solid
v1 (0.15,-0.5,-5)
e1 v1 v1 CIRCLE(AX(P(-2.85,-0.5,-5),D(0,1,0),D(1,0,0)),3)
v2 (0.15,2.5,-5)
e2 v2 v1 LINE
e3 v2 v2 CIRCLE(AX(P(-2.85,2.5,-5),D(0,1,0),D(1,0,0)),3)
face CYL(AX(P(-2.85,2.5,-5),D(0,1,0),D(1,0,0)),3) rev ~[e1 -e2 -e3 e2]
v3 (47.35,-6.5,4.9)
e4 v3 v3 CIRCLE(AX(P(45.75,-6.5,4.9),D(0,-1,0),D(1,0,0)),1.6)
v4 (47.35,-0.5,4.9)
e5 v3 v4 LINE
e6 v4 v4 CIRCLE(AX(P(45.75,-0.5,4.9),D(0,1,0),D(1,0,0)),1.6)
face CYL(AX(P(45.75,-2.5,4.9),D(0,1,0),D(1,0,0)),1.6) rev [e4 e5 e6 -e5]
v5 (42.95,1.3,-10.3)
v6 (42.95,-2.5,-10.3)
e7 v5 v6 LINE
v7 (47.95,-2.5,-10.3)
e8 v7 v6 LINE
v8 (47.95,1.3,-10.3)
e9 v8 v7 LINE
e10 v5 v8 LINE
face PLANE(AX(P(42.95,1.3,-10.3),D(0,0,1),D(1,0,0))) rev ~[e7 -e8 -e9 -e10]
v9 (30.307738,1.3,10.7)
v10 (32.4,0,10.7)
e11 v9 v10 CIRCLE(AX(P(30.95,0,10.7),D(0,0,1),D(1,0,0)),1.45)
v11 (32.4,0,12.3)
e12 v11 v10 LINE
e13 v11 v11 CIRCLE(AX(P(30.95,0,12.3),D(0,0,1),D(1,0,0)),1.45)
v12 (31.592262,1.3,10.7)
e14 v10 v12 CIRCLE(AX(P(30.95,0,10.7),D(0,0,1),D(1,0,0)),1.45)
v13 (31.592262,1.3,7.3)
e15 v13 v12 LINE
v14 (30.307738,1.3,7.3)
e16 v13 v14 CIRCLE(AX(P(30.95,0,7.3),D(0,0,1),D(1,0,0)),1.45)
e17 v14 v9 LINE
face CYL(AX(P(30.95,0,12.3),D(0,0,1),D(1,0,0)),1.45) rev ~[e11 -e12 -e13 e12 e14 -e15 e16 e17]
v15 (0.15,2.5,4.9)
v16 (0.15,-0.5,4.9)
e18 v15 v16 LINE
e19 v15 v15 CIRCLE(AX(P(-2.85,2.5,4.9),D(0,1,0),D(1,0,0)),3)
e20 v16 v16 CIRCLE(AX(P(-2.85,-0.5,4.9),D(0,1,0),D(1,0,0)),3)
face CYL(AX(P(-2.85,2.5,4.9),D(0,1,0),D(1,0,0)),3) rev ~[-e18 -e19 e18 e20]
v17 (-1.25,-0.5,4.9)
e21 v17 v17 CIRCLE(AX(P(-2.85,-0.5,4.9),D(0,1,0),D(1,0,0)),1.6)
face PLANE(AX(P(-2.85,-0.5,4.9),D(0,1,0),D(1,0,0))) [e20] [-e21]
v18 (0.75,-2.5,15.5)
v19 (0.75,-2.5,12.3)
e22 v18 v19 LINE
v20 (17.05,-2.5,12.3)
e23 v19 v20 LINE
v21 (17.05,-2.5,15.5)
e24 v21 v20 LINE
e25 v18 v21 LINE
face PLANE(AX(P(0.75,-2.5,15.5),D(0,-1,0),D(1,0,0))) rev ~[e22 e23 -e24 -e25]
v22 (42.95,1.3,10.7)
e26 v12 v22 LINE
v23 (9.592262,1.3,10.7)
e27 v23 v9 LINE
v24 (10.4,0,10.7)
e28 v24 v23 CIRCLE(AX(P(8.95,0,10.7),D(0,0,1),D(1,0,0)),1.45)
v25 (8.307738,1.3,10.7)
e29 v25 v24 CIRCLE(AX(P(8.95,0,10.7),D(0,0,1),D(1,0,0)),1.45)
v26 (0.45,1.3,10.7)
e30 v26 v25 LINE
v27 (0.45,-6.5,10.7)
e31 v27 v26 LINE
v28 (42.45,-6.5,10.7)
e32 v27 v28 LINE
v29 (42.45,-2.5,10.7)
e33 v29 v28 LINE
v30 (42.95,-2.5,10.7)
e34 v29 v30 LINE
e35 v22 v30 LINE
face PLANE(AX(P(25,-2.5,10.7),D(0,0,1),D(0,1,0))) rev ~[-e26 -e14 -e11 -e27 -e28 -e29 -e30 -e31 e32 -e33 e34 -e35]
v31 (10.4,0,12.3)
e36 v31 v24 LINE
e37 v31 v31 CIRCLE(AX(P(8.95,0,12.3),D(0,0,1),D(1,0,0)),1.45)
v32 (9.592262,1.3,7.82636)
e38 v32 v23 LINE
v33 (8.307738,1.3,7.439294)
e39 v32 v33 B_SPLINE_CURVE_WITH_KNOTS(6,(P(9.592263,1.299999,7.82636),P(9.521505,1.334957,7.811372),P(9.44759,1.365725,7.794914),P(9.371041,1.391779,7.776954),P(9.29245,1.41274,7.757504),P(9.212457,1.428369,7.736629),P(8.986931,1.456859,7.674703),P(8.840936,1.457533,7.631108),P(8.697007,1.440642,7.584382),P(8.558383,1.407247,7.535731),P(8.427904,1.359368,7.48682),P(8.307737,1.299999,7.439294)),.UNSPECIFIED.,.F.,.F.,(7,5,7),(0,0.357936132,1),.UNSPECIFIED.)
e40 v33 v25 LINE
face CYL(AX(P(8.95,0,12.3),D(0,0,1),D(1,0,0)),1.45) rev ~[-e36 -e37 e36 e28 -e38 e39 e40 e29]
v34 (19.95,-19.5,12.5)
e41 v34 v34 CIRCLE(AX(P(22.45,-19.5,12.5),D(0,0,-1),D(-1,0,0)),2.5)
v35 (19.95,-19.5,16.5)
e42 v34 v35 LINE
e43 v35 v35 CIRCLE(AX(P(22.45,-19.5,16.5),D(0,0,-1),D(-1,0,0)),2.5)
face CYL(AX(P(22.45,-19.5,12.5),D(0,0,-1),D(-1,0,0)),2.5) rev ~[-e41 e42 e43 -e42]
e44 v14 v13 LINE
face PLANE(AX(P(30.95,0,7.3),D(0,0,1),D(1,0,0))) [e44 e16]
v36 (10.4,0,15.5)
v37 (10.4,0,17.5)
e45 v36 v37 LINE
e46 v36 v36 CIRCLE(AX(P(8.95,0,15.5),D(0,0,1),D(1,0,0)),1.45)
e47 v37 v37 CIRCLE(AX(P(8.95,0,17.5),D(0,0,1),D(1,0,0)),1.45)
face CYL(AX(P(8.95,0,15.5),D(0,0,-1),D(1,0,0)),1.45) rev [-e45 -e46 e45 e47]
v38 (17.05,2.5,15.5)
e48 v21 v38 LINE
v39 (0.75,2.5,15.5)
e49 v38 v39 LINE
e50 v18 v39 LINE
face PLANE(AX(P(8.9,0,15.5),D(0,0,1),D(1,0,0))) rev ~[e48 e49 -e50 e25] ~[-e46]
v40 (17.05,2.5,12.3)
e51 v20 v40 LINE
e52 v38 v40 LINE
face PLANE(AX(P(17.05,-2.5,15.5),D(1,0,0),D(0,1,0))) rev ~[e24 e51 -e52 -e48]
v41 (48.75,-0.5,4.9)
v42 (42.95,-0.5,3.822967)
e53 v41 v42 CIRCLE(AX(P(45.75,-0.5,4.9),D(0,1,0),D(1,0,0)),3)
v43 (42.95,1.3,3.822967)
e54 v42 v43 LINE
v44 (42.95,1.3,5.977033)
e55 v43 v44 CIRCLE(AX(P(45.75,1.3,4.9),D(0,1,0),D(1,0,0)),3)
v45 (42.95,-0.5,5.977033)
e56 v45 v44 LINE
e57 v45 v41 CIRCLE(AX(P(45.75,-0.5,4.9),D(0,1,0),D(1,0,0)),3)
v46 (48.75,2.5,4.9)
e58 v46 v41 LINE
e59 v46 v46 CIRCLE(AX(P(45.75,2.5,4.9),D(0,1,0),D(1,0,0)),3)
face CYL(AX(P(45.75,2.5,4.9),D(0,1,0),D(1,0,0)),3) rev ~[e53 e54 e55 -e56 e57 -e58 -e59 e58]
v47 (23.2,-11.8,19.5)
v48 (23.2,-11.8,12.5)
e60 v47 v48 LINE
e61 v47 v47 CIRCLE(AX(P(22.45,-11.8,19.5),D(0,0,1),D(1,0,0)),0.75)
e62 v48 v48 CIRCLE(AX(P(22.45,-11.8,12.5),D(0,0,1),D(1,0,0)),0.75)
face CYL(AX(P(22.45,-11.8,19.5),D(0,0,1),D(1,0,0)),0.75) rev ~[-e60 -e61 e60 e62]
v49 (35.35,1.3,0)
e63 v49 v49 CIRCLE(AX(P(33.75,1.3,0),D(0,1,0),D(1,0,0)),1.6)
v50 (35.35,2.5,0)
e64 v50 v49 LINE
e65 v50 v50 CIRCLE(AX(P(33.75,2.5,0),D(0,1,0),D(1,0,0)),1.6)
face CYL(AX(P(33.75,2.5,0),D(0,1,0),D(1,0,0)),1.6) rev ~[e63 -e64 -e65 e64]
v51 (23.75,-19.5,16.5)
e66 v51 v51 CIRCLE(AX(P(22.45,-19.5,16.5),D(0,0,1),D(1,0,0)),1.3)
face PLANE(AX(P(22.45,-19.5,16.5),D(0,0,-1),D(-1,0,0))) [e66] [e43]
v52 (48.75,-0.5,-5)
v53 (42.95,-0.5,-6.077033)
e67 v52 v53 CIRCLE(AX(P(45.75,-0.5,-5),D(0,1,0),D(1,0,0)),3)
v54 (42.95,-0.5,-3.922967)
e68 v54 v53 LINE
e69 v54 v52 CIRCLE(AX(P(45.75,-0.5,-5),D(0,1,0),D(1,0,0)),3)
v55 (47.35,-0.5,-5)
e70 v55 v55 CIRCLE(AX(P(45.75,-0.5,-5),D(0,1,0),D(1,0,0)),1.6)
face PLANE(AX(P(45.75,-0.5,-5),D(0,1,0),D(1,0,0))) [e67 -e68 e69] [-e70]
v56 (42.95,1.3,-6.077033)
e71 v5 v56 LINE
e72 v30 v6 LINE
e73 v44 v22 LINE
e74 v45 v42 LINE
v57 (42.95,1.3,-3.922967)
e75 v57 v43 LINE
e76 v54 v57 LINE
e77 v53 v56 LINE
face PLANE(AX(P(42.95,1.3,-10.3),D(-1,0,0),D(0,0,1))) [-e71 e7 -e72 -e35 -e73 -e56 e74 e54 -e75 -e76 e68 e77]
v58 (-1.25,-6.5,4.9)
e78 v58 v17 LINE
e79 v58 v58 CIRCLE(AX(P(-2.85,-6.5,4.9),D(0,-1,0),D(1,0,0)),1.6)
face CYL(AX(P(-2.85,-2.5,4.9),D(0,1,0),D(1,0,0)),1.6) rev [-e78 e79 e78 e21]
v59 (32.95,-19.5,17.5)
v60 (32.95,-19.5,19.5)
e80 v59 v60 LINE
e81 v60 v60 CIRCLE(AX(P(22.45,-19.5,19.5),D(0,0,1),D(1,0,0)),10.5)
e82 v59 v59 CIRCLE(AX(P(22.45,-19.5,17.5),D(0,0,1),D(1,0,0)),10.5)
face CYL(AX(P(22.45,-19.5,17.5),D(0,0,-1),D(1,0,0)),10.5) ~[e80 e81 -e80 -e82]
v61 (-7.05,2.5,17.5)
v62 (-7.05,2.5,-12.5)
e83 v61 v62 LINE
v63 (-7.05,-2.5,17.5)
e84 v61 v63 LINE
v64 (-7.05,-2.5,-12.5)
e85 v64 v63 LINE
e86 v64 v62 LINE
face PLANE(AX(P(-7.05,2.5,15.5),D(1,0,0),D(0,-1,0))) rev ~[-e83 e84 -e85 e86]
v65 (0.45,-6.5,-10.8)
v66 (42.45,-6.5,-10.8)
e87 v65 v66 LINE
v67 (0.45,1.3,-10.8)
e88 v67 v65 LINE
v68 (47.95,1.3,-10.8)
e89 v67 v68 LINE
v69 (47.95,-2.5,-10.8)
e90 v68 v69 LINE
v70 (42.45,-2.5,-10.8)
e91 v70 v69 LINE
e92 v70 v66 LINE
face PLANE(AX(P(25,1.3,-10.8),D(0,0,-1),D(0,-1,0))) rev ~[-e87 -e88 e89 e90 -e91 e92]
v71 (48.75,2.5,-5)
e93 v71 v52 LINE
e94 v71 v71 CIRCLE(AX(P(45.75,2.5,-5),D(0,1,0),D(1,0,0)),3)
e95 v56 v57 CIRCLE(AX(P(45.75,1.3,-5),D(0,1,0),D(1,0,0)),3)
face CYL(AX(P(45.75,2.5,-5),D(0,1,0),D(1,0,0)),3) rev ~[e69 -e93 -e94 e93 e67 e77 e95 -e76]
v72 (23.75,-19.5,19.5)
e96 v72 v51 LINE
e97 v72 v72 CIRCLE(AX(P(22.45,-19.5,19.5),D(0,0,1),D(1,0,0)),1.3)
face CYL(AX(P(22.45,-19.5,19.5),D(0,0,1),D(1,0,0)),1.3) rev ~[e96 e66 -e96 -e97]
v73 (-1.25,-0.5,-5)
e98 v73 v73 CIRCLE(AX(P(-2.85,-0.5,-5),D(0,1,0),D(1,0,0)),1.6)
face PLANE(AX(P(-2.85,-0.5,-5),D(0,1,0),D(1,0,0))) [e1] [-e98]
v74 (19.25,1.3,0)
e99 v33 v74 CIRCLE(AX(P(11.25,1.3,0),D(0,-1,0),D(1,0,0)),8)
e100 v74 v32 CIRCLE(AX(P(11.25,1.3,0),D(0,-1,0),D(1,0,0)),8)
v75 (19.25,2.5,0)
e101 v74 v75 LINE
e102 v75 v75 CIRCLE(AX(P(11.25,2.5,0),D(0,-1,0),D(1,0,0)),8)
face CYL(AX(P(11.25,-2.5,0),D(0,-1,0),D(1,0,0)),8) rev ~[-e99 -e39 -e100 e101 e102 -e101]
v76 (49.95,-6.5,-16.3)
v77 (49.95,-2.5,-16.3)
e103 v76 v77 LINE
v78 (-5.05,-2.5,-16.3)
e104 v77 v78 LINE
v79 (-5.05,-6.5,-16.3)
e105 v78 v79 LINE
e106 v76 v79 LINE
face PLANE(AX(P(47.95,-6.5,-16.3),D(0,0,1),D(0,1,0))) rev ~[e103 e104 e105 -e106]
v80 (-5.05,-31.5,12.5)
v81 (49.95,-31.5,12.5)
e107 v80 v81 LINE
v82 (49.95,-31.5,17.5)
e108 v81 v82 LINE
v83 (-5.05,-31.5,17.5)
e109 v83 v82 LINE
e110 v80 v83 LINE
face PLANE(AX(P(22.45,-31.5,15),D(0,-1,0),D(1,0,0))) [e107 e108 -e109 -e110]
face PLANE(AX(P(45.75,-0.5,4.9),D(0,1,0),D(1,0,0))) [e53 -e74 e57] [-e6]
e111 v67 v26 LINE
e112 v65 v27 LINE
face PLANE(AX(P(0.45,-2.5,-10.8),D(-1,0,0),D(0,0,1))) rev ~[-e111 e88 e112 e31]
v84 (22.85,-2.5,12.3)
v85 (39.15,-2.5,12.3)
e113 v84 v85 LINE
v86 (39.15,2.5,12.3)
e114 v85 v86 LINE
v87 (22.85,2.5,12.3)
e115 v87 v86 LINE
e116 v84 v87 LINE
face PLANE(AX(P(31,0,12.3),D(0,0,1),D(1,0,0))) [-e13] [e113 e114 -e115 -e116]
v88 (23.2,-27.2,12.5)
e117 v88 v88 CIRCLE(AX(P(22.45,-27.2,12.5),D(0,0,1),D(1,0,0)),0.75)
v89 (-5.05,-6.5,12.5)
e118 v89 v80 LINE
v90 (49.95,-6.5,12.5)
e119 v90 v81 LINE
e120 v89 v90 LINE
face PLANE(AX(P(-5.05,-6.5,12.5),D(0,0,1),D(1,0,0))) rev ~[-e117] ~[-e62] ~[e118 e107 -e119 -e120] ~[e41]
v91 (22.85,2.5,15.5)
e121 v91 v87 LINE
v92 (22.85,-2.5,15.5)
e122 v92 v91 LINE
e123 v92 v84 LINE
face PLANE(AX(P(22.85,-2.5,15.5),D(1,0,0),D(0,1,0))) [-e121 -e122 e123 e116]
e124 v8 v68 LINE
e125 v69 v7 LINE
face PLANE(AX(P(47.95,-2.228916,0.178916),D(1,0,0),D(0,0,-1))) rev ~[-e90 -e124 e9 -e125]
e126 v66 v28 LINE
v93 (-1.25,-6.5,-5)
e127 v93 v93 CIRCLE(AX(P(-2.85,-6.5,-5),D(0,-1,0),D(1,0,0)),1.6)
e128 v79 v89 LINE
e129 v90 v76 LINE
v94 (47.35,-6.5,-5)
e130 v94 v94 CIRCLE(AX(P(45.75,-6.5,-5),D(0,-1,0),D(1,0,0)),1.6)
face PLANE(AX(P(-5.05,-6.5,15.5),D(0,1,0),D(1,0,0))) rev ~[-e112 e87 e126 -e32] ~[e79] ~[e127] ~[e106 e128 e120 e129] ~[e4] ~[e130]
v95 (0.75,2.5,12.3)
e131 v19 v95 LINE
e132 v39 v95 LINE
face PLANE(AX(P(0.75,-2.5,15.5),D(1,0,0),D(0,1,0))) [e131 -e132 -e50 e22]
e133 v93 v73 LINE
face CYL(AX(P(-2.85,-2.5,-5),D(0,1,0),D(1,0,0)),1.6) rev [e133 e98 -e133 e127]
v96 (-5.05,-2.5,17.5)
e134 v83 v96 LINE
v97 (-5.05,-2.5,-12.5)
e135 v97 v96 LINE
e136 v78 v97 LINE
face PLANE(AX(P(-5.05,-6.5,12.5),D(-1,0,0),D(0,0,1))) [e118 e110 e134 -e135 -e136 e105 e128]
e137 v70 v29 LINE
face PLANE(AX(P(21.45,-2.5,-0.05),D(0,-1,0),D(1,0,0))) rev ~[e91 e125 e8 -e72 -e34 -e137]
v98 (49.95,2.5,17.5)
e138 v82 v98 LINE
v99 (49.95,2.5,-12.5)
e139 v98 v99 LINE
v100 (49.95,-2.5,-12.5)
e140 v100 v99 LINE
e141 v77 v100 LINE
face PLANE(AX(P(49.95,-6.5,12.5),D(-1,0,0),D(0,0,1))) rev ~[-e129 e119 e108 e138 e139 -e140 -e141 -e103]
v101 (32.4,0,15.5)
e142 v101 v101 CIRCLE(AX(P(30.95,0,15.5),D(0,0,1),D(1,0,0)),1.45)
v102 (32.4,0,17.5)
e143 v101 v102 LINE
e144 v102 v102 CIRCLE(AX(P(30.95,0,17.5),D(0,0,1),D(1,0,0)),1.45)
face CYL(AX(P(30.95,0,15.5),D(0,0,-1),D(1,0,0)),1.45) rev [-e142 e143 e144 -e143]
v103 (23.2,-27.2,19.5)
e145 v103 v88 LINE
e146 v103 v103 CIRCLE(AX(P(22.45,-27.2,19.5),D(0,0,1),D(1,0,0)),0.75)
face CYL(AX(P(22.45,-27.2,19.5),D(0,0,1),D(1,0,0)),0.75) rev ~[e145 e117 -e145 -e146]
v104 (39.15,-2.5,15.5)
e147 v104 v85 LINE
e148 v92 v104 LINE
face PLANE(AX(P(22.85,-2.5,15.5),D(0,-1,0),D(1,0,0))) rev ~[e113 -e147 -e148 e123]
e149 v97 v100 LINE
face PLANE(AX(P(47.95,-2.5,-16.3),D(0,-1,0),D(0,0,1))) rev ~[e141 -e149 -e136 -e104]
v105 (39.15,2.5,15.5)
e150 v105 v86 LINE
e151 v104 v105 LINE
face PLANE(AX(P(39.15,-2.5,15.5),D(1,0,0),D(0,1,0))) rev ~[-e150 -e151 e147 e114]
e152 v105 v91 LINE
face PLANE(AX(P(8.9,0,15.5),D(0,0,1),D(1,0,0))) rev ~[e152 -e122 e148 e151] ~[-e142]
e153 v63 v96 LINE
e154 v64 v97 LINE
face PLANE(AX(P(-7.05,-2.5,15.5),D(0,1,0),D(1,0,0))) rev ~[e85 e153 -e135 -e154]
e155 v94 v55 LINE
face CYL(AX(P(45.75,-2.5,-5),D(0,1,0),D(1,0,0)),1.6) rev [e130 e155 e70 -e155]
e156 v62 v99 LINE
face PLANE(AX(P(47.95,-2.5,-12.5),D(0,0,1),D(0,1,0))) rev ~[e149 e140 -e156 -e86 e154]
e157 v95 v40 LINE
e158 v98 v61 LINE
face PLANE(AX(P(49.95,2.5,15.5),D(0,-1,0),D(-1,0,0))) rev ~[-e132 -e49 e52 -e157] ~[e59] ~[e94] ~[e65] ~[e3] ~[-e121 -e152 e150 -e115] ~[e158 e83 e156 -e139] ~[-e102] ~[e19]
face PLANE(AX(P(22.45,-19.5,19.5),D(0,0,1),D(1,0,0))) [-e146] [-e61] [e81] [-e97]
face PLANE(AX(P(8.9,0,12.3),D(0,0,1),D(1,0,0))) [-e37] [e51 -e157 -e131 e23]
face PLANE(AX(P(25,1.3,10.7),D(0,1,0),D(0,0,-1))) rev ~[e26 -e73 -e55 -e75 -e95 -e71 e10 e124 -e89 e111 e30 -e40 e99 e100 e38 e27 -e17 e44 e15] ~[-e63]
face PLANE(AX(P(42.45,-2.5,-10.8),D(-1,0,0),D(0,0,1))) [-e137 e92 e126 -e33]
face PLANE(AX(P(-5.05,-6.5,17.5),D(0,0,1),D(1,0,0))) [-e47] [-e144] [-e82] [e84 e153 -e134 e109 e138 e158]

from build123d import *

# Parameters (mm, degrees)
SKETCH1_W                = 50
SKETCH1_H                = 25
SKETCH1_R                = 1.3
SKETCH1_R_2              = 4.5
BOSS_EXTRUDE1_DEPTH      = 2.5
SKETCH2_W                = 50
SKETCH2_H                = 12
BOSS_EXTRUDE2_DEPTH      = 3
SKETCH3_W                = 50
SKETCH3_H                = 28
BOSS_EXTRUDE3_DEPTH      = 3
SKETCH4_R                = 1.3
CUT_EXTRUDE1_DEPTH       = 16
SKETCH5_W                = 53
SKETCH5_H                = 32.5
SKETCH5_R                = 1.6
SKETCH5_W_2              = 42
SKETCH5_H_2              = 21.5
BOSS_EXTRUDE4_DEPTH      = 4
SKETCH7_R                = 8
CUT_EXTRUDE2_DEPTH       = 5
SKETCH8_W                = 24.55
SKETCH8_H                = 21.5
CUT_EXTRUDE3_DEPTH       = 3.8
BOSS_EXTRUDE6_DEPTH      = 22.95
BOSS_EXTRUDE7_DEPTH      = 2
SKETCH11_R               = 1.6
CUT_EXTRUDE4_DEPTH       = 1.2
SKETCH12_W               = 7
SKETCH12_H               = 21
SKETCH12_R               = 1.6
BOSS_EXTRUDE8_DEPTH      = 7.8
SKETCH13_W               = 0.7
SKETCH13_H               = 5
SKETCH13_H_2             = 4
CUT_EXTRUDE5_DEPTH       = 51
CUT_EXTRUDE5_DEPTH_BACK  = 25.95
SKETCH14_W               = 28
SKETCH14_H               = 10
CUT_EXTRUDE6_DEPTH       = 1
CUT_EXTRUDE6_DEPTH_BACK  = 75.95
SKETCH16_R               = 3
CUT_EXTRUDE8_DEPTH       = 3
SKETCH15_R               = 1.6
CUT_EXTRUDE9_DEPTH       = 5
SKETCH17_W               = 16.3
SKETCH17_H               = 5
CUT_EXTRUDE10_DEPTH      = 3.2
SKETCH18_R               = 1.45
CUT_EXTRUDE11_DEPTH      = 5
SKETCH19_R               = 1.6
CUT_EXTRUDE12_DEPTH      = 1.0000001
CUT_EXTRUDE12_DEPTH_BACK = 10
SKETCH20_W               = 17.95
SKETCH20_H               = 5
CUT_EXTRUDE14_DEPTH      = 1
CUT_EXTRUDE14_DEPTH_BACK = 32.8
SKETCH21_W               = 16.3
SKETCH21_H               = 5
SKETCH21_R               = 1.45
BOSS_EXTRUDE11_DEPTH     = 2
SKETCH22_W               = 55
SKETCH22_H               = 5
BOSS_EXTRUDE12_DEPTH     = 25
SKETCH23_R               = 10.5
BOSS_EXTRUDE13_DEPTH     = 2
SKETCH24_R               = 1.3
SKETCH24_R_2             = 0.75
CUT_EXTRUDE16_DEPTH      = 7
SKETCH25_R               = 2.5
SKETCH25_R_2             = 1.3
CUT_EXTRUDE17_DEPTH      = 4


with BuildPart() as part:
    # Sketch1 → Boss-Extrude1 (new body, symmetric)
    with BuildSketch(Plane(origin=(0, 0, 0), x_dir=(1, 0, 0), z_dir=(0, 1, 0))):
        Rectangle(SKETCH1_W, SKETCH1_H)
        with Locations((-11.25, 0)):
            Circle(SKETCH1_R, mode=Mode.SUBTRACT)
        with Locations((11.25, 0)):
            Circle(SKETCH1_R_2, mode=Mode.SUBTRACT)
    extrude(amount=BOSS_EXTRUDE1_DEPTH, both=True)

    # Sketch2 → Boss-Extrude2 (add)
    with BuildSketch(Plane.XY.offset(12.5)):
        with Locations((0, 3.5)):
            Rectangle(SKETCH2_W, SKETCH2_H)
    extrude(amount=BOSS_EXTRUDE2_DEPTH)

    # Sketch3 → Boss-Extrude3 (add)
    with BuildSketch(Plane(origin=(0, 9.5, 0), x_dir=(1, 0, 0), z_dir=(0, 1, 0))):
        with Locations((0, -1.5)):
            Rectangle(SKETCH3_W, SKETCH3_H)
    extrude(amount=BOSS_EXTRUDE3_DEPTH)

    # Sketch4 → Cut-Extrude1 (cut, through all)
    with BuildSketch(Plane(origin=(0, 12.5, 0), x_dir=(1, 0, 0), z_dir=(0, 1, 0))):
        with Locations((11.25, 0)):
            Circle(SKETCH4_R)
        with Locations((-11.25, 0)):
            Circle(SKETCH4_R)
    extrude(amount=-CUT_EXTRUDE1_DEPTH, mode=Mode.SUBTRACT)

    # Sketch5 → Boss-Extrude4 (add)
    with BuildSketch(Plane.XZ.offset(2.5)):
        with Locations((21.45, -0.05)):
            Rectangle(SKETCH5_W, SKETCH5_H)
        with Locations((45.75, -5)):
            Circle(SKETCH5_R, mode=Mode.SUBTRACT)
        with Locations((45.75, 4.9)):
            Circle(SKETCH5_R, mode=Mode.SUBTRACT)
        with Locations((-2.85, 4.9)):
            Circle(SKETCH5_R, mode=Mode.SUBTRACT)
        with Locations((-2.85, -5)):
            Circle(SKETCH5_R, mode=Mode.SUBTRACT)
        with Locations((21.45, -0.05)):
            Rectangle(SKETCH5_W_2, SKETCH5_H_2, mode=Mode.SUBTRACT)
    extrude(amount=BOSS_EXTRUDE4_DEPTH)

    # Sketch7 → Cut-Extrude2 (cut)
    with BuildSketch(Plane.XZ.offset(2.5)):
        with Locations((11.25, 0)):
            Circle(SKETCH7_R)
    extrude(amount=-CUT_EXTRUDE2_DEPTH, mode=Mode.SUBTRACT)

    # Sketch8 → Cut-Extrude3 (cut)
    with BuildSketch(Plane.XZ.offset(2.5)):
        with Locations((12.725, -0.05)):
            Rectangle(SKETCH8_W, SKETCH8_H)
    extrude(amount=-CUT_EXTRUDE3_DEPTH, mode=Mode.SUBTRACT)

    # Sketch9 → Boss-Extrude6 (add)
    with BuildSketch(Plane(origin=(25, 0, 0), x_dir=(0, 0, -1), z_dir=(1, 0, 0))):
        Polygon((12.5, 2.5), (-16.2, 2.5), (-16.2, -2.5), (-10.7, -2.5), (-10.7, 1.3), (10.8, 1.3), (10.8, -2.5), (12.5, -2.5), align=None)
    extrude(amount=BOSS_EXTRUDE6_DEPTH)

    # Sketch10 → Boss-Extrude7 (add)
    with BuildSketch(Plane(origin=(47.95, 0, 0), x_dir=(0, 0, -1), z_dir=(1, 0, 0))):
        Polygon((16.3, -2.5), (12.5, -2.5), (12.5, 2.5), (-16.2, 2.5), (-16.2, -6.5), (16.3, -6.5), align=None)
    extrude(amount=BOSS_EXTRUDE7_DEPTH)

    # Sketch11 → Cut-Extrude4 (cut)
    with BuildSketch(Plane.XZ.offset(-1.3)):
        with Locations((-2.85, 4.9)):
            Circle(SKETCH11_R)
        with Locations((-2.85, -5)):
            Circle(SKETCH11_R)
        with Locations((45.75, 4.9)):
            Circle(SKETCH11_R)
        with Locations((45.75, -5)):
            Circle(SKETCH11_R)
    extrude(amount=-CUT_EXTRUDE4_DEPTH, mode=Mode.SUBTRACT)

    # Sketch12 → Boss-Extrude8 (add)
    with BuildSketch(Plane.XZ.offset(-1.3)):
        with Locations((46.45, 0.2)):
            Rectangle(SKETCH12_W, SKETCH12_H)
        with Locations((45.75, 4.9)):
            Circle(SKETCH12_R, mode=Mode.SUBTRACT)
        with Locations((45.75, -5)):
            Circle(SKETCH12_R, mode=Mode.SUBTRACT)
    extrude(amount=BOSS_EXTRUDE8_DEPTH)

    # Sketch13 → Cut-Extrude5 (cut, two sides)
    with BuildSketch(Plane.ZY.offset(-25)) as cut_extrude5_sk:
        with Locations((15.85, 0)):
            Rectangle(SKETCH13_W, SKETCH13_H)
        with Locations((15.85, -4.5)):
            Rectangle(SKETCH13_W, SKETCH13_H_2)
    extrude(amount=CUT_EXTRUDE5_DEPTH, mode=Mode.SUBTRACT)
    extrude(cut_extrude5_sk.sketch, amount=-CUT_EXTRUDE5_DEPTH_BACK, mode=Mode.SUBTRACT)

    # Sketch14 → Cut-Extrude6 (cut, two sides)
    with BuildSketch(Plane.ZY.offset(25)) as cut_extrude6_sk:
        with Locations((1.5, 7.5)):
            Rectangle(SKETCH14_W, SKETCH14_H)
    extrude(amount=CUT_EXTRUDE6_DEPTH, mode=Mode.SUBTRACT)
    extrude(cut_extrude6_sk.sketch, amount=-CUT_EXTRUDE6_DEPTH_BACK, mode=Mode.SUBTRACT)

    # Sketch16 → Cut-Extrude8 (cut)
    with BuildSketch(Plane(origin=(0, 2.5, 0), x_dir=(1, 0, 0), z_dir=(0, 1, 0))):
        with Locations((-2.85, 5)):
            Circle(SKETCH16_R)
        with Locations((-2.85, -4.9)):
            Circle(SKETCH16_R)
        with Locations((45.75, 5)):
            Circle(SKETCH16_R)
        with Locations((45.75, -4.9)):
            Circle(SKETCH16_R)
    extrude(amount=-CUT_EXTRUDE8_DEPTH, mode=Mode.SUBTRACT)

    # Sketch15 → Cut-Extrude9 (cut)
    with BuildSketch(Plane(origin=(0, 2.5, 0), x_dir=(1, 0, 0), z_dir=(0, 1, 0))):
        with Locations((-2.85, 5)):
            Circle(SKETCH15_R)
        with Locations((-2.85, -4.9)):
            Circle(SKETCH15_R)
    extrude(amount=-CUT_EXTRUDE9_DEPTH, mode=Mode.SUBTRACT)

    # Sketch17 → Cut-Extrude10 (cut)
    with BuildSketch(Plane.XY.offset(15.5)):
        with Locations((8.9, 0)):
            Rectangle(SKETCH17_W, SKETCH17_H)
        with Locations((31, 0)):
            Rectangle(SKETCH17_W, SKETCH17_H)
    extrude(amount=-CUT_EXTRUDE10_DEPTH, mode=Mode.SUBTRACT)

    # Sketch18 → Cut-Extrude11 (cut)
    with BuildSketch(Plane.XY.offset(12.3)):
        with Locations((8.95, 0)):
            Circle(SKETCH18_R)
        with Locations((30.95, 0)):
            Circle(SKETCH18_R)
    extrude(amount=-CUT_EXTRUDE11_DEPTH, mode=Mode.SUBTRACT)

    # Sketch19 → Cut-Extrude12 (cut, two sides)
    with BuildSketch(Plane(origin=(0, 2.5, 0), x_dir=(1, 0, 0), z_dir=(0, 1, 0))) as cut_extrude12_sk:
        with Locations((33.75, 0)):
            Circle(SKETCH19_R)
    extrude(amount=CUT_EXTRUDE12_DEPTH, mode=Mode.SUBTRACT)
    extrude(cut_extrude12_sk.sketch, amount=-CUT_EXTRUDE12_DEPTH_BACK, mode=Mode.SUBTRACT)

    # Sketch20 → Cut-Extrude14 (cut, two sides)
    with BuildSketch(Plane.XY.offset(15.5)) as cut_extrude14_sk:
        with Locations((-16.025, 0)):
            Rectangle(SKETCH20_W, SKETCH20_H)
    extrude(amount=CUT_EXTRUDE14_DEPTH, mode=Mode.SUBTRACT)
    extrude(cut_extrude14_sk.sketch, amount=-CUT_EXTRUDE14_DEPTH_BACK, mode=Mode.SUBTRACT)

    # Sketch21 → Boss-Extrude11 (add)
    with BuildSketch(Plane.XY.offset(15.5)):
        with Locations((8.9, 0)):
            Rectangle(SKETCH21_W, SKETCH21_H)
        with Locations((8.95, 0)):
            Circle(SKETCH21_R, mode=Mode.SUBTRACT)
        Polygon((0.75, -2.5), (0.75, 2.5), (-7.05, 2.5), (-7.05, -2.5), (-5.05, -2.5), (-5.05, -6.5), (49.95, -6.5), (49.95, 2.5), (39.15, 2.5), (39.15, -2.5), (22.85, -2.5), (22.85, 2.5), (17.05, 2.5), (17.05, -2.5), align=None)
        with Locations((31, 0)):
            Rectangle(SKETCH21_W, SKETCH21_H)
        with Locations((30.95, 0)):
            Circle(SKETCH21_R, mode=Mode.SUBTRACT)
    extrude(amount=BOSS_EXTRUDE11_DEPTH)

    # Sketch22 → Boss-Extrude12 (add)
    with BuildSketch(Plane.XZ.offset(6.5)):
        with Locations((22.45, 15)):
            Rectangle(SKETCH22_W, SKETCH22_H)
    extrude(amount=BOSS_EXTRUDE12_DEPTH)

    # Sketch23 → Boss-Extrude13 (add)
    with BuildSketch(Plane.XY.offset(17.5)):
        with Locations((22.45, -19.5)):
            Circle(SKETCH23_R)
    extrude(amount=BOSS_EXTRUDE13_DEPTH)

    # Sketch24 → Cut-Extrude16 (cut)
    with BuildSketch(Plane.XY.offset(19.5)):
        with Locations((22.45, -19.5)):
            Circle(SKETCH24_R)
        with Locations((22.45, -11.8)):
            Circle(SKETCH24_R_2)
        with Locations((22.45, -27.2)):
            Circle(SKETCH24_R_2)
    extrude(amount=-CUT_EXTRUDE16_DEPTH, mode=Mode.SUBTRACT)

    # Sketch25 → Cut-Extrude17 (cut)
    with BuildSketch(Plane(origin=(0, 0, 12.5), x_dir=(-1, 0, 0), z_dir=(0, 0, -1))):
        with Locations((-22.45, -19.5)):
            Circle(SKETCH25_R)
        with Locations((-22.45, -19.5)):
            Circle(SKETCH25_R_2, mode=Mode.SUBTRACT)
    extrude(amount=-CUT_EXTRUDE17_DEPTH, mode=Mode.SUBTRACT)


solid = part.part
